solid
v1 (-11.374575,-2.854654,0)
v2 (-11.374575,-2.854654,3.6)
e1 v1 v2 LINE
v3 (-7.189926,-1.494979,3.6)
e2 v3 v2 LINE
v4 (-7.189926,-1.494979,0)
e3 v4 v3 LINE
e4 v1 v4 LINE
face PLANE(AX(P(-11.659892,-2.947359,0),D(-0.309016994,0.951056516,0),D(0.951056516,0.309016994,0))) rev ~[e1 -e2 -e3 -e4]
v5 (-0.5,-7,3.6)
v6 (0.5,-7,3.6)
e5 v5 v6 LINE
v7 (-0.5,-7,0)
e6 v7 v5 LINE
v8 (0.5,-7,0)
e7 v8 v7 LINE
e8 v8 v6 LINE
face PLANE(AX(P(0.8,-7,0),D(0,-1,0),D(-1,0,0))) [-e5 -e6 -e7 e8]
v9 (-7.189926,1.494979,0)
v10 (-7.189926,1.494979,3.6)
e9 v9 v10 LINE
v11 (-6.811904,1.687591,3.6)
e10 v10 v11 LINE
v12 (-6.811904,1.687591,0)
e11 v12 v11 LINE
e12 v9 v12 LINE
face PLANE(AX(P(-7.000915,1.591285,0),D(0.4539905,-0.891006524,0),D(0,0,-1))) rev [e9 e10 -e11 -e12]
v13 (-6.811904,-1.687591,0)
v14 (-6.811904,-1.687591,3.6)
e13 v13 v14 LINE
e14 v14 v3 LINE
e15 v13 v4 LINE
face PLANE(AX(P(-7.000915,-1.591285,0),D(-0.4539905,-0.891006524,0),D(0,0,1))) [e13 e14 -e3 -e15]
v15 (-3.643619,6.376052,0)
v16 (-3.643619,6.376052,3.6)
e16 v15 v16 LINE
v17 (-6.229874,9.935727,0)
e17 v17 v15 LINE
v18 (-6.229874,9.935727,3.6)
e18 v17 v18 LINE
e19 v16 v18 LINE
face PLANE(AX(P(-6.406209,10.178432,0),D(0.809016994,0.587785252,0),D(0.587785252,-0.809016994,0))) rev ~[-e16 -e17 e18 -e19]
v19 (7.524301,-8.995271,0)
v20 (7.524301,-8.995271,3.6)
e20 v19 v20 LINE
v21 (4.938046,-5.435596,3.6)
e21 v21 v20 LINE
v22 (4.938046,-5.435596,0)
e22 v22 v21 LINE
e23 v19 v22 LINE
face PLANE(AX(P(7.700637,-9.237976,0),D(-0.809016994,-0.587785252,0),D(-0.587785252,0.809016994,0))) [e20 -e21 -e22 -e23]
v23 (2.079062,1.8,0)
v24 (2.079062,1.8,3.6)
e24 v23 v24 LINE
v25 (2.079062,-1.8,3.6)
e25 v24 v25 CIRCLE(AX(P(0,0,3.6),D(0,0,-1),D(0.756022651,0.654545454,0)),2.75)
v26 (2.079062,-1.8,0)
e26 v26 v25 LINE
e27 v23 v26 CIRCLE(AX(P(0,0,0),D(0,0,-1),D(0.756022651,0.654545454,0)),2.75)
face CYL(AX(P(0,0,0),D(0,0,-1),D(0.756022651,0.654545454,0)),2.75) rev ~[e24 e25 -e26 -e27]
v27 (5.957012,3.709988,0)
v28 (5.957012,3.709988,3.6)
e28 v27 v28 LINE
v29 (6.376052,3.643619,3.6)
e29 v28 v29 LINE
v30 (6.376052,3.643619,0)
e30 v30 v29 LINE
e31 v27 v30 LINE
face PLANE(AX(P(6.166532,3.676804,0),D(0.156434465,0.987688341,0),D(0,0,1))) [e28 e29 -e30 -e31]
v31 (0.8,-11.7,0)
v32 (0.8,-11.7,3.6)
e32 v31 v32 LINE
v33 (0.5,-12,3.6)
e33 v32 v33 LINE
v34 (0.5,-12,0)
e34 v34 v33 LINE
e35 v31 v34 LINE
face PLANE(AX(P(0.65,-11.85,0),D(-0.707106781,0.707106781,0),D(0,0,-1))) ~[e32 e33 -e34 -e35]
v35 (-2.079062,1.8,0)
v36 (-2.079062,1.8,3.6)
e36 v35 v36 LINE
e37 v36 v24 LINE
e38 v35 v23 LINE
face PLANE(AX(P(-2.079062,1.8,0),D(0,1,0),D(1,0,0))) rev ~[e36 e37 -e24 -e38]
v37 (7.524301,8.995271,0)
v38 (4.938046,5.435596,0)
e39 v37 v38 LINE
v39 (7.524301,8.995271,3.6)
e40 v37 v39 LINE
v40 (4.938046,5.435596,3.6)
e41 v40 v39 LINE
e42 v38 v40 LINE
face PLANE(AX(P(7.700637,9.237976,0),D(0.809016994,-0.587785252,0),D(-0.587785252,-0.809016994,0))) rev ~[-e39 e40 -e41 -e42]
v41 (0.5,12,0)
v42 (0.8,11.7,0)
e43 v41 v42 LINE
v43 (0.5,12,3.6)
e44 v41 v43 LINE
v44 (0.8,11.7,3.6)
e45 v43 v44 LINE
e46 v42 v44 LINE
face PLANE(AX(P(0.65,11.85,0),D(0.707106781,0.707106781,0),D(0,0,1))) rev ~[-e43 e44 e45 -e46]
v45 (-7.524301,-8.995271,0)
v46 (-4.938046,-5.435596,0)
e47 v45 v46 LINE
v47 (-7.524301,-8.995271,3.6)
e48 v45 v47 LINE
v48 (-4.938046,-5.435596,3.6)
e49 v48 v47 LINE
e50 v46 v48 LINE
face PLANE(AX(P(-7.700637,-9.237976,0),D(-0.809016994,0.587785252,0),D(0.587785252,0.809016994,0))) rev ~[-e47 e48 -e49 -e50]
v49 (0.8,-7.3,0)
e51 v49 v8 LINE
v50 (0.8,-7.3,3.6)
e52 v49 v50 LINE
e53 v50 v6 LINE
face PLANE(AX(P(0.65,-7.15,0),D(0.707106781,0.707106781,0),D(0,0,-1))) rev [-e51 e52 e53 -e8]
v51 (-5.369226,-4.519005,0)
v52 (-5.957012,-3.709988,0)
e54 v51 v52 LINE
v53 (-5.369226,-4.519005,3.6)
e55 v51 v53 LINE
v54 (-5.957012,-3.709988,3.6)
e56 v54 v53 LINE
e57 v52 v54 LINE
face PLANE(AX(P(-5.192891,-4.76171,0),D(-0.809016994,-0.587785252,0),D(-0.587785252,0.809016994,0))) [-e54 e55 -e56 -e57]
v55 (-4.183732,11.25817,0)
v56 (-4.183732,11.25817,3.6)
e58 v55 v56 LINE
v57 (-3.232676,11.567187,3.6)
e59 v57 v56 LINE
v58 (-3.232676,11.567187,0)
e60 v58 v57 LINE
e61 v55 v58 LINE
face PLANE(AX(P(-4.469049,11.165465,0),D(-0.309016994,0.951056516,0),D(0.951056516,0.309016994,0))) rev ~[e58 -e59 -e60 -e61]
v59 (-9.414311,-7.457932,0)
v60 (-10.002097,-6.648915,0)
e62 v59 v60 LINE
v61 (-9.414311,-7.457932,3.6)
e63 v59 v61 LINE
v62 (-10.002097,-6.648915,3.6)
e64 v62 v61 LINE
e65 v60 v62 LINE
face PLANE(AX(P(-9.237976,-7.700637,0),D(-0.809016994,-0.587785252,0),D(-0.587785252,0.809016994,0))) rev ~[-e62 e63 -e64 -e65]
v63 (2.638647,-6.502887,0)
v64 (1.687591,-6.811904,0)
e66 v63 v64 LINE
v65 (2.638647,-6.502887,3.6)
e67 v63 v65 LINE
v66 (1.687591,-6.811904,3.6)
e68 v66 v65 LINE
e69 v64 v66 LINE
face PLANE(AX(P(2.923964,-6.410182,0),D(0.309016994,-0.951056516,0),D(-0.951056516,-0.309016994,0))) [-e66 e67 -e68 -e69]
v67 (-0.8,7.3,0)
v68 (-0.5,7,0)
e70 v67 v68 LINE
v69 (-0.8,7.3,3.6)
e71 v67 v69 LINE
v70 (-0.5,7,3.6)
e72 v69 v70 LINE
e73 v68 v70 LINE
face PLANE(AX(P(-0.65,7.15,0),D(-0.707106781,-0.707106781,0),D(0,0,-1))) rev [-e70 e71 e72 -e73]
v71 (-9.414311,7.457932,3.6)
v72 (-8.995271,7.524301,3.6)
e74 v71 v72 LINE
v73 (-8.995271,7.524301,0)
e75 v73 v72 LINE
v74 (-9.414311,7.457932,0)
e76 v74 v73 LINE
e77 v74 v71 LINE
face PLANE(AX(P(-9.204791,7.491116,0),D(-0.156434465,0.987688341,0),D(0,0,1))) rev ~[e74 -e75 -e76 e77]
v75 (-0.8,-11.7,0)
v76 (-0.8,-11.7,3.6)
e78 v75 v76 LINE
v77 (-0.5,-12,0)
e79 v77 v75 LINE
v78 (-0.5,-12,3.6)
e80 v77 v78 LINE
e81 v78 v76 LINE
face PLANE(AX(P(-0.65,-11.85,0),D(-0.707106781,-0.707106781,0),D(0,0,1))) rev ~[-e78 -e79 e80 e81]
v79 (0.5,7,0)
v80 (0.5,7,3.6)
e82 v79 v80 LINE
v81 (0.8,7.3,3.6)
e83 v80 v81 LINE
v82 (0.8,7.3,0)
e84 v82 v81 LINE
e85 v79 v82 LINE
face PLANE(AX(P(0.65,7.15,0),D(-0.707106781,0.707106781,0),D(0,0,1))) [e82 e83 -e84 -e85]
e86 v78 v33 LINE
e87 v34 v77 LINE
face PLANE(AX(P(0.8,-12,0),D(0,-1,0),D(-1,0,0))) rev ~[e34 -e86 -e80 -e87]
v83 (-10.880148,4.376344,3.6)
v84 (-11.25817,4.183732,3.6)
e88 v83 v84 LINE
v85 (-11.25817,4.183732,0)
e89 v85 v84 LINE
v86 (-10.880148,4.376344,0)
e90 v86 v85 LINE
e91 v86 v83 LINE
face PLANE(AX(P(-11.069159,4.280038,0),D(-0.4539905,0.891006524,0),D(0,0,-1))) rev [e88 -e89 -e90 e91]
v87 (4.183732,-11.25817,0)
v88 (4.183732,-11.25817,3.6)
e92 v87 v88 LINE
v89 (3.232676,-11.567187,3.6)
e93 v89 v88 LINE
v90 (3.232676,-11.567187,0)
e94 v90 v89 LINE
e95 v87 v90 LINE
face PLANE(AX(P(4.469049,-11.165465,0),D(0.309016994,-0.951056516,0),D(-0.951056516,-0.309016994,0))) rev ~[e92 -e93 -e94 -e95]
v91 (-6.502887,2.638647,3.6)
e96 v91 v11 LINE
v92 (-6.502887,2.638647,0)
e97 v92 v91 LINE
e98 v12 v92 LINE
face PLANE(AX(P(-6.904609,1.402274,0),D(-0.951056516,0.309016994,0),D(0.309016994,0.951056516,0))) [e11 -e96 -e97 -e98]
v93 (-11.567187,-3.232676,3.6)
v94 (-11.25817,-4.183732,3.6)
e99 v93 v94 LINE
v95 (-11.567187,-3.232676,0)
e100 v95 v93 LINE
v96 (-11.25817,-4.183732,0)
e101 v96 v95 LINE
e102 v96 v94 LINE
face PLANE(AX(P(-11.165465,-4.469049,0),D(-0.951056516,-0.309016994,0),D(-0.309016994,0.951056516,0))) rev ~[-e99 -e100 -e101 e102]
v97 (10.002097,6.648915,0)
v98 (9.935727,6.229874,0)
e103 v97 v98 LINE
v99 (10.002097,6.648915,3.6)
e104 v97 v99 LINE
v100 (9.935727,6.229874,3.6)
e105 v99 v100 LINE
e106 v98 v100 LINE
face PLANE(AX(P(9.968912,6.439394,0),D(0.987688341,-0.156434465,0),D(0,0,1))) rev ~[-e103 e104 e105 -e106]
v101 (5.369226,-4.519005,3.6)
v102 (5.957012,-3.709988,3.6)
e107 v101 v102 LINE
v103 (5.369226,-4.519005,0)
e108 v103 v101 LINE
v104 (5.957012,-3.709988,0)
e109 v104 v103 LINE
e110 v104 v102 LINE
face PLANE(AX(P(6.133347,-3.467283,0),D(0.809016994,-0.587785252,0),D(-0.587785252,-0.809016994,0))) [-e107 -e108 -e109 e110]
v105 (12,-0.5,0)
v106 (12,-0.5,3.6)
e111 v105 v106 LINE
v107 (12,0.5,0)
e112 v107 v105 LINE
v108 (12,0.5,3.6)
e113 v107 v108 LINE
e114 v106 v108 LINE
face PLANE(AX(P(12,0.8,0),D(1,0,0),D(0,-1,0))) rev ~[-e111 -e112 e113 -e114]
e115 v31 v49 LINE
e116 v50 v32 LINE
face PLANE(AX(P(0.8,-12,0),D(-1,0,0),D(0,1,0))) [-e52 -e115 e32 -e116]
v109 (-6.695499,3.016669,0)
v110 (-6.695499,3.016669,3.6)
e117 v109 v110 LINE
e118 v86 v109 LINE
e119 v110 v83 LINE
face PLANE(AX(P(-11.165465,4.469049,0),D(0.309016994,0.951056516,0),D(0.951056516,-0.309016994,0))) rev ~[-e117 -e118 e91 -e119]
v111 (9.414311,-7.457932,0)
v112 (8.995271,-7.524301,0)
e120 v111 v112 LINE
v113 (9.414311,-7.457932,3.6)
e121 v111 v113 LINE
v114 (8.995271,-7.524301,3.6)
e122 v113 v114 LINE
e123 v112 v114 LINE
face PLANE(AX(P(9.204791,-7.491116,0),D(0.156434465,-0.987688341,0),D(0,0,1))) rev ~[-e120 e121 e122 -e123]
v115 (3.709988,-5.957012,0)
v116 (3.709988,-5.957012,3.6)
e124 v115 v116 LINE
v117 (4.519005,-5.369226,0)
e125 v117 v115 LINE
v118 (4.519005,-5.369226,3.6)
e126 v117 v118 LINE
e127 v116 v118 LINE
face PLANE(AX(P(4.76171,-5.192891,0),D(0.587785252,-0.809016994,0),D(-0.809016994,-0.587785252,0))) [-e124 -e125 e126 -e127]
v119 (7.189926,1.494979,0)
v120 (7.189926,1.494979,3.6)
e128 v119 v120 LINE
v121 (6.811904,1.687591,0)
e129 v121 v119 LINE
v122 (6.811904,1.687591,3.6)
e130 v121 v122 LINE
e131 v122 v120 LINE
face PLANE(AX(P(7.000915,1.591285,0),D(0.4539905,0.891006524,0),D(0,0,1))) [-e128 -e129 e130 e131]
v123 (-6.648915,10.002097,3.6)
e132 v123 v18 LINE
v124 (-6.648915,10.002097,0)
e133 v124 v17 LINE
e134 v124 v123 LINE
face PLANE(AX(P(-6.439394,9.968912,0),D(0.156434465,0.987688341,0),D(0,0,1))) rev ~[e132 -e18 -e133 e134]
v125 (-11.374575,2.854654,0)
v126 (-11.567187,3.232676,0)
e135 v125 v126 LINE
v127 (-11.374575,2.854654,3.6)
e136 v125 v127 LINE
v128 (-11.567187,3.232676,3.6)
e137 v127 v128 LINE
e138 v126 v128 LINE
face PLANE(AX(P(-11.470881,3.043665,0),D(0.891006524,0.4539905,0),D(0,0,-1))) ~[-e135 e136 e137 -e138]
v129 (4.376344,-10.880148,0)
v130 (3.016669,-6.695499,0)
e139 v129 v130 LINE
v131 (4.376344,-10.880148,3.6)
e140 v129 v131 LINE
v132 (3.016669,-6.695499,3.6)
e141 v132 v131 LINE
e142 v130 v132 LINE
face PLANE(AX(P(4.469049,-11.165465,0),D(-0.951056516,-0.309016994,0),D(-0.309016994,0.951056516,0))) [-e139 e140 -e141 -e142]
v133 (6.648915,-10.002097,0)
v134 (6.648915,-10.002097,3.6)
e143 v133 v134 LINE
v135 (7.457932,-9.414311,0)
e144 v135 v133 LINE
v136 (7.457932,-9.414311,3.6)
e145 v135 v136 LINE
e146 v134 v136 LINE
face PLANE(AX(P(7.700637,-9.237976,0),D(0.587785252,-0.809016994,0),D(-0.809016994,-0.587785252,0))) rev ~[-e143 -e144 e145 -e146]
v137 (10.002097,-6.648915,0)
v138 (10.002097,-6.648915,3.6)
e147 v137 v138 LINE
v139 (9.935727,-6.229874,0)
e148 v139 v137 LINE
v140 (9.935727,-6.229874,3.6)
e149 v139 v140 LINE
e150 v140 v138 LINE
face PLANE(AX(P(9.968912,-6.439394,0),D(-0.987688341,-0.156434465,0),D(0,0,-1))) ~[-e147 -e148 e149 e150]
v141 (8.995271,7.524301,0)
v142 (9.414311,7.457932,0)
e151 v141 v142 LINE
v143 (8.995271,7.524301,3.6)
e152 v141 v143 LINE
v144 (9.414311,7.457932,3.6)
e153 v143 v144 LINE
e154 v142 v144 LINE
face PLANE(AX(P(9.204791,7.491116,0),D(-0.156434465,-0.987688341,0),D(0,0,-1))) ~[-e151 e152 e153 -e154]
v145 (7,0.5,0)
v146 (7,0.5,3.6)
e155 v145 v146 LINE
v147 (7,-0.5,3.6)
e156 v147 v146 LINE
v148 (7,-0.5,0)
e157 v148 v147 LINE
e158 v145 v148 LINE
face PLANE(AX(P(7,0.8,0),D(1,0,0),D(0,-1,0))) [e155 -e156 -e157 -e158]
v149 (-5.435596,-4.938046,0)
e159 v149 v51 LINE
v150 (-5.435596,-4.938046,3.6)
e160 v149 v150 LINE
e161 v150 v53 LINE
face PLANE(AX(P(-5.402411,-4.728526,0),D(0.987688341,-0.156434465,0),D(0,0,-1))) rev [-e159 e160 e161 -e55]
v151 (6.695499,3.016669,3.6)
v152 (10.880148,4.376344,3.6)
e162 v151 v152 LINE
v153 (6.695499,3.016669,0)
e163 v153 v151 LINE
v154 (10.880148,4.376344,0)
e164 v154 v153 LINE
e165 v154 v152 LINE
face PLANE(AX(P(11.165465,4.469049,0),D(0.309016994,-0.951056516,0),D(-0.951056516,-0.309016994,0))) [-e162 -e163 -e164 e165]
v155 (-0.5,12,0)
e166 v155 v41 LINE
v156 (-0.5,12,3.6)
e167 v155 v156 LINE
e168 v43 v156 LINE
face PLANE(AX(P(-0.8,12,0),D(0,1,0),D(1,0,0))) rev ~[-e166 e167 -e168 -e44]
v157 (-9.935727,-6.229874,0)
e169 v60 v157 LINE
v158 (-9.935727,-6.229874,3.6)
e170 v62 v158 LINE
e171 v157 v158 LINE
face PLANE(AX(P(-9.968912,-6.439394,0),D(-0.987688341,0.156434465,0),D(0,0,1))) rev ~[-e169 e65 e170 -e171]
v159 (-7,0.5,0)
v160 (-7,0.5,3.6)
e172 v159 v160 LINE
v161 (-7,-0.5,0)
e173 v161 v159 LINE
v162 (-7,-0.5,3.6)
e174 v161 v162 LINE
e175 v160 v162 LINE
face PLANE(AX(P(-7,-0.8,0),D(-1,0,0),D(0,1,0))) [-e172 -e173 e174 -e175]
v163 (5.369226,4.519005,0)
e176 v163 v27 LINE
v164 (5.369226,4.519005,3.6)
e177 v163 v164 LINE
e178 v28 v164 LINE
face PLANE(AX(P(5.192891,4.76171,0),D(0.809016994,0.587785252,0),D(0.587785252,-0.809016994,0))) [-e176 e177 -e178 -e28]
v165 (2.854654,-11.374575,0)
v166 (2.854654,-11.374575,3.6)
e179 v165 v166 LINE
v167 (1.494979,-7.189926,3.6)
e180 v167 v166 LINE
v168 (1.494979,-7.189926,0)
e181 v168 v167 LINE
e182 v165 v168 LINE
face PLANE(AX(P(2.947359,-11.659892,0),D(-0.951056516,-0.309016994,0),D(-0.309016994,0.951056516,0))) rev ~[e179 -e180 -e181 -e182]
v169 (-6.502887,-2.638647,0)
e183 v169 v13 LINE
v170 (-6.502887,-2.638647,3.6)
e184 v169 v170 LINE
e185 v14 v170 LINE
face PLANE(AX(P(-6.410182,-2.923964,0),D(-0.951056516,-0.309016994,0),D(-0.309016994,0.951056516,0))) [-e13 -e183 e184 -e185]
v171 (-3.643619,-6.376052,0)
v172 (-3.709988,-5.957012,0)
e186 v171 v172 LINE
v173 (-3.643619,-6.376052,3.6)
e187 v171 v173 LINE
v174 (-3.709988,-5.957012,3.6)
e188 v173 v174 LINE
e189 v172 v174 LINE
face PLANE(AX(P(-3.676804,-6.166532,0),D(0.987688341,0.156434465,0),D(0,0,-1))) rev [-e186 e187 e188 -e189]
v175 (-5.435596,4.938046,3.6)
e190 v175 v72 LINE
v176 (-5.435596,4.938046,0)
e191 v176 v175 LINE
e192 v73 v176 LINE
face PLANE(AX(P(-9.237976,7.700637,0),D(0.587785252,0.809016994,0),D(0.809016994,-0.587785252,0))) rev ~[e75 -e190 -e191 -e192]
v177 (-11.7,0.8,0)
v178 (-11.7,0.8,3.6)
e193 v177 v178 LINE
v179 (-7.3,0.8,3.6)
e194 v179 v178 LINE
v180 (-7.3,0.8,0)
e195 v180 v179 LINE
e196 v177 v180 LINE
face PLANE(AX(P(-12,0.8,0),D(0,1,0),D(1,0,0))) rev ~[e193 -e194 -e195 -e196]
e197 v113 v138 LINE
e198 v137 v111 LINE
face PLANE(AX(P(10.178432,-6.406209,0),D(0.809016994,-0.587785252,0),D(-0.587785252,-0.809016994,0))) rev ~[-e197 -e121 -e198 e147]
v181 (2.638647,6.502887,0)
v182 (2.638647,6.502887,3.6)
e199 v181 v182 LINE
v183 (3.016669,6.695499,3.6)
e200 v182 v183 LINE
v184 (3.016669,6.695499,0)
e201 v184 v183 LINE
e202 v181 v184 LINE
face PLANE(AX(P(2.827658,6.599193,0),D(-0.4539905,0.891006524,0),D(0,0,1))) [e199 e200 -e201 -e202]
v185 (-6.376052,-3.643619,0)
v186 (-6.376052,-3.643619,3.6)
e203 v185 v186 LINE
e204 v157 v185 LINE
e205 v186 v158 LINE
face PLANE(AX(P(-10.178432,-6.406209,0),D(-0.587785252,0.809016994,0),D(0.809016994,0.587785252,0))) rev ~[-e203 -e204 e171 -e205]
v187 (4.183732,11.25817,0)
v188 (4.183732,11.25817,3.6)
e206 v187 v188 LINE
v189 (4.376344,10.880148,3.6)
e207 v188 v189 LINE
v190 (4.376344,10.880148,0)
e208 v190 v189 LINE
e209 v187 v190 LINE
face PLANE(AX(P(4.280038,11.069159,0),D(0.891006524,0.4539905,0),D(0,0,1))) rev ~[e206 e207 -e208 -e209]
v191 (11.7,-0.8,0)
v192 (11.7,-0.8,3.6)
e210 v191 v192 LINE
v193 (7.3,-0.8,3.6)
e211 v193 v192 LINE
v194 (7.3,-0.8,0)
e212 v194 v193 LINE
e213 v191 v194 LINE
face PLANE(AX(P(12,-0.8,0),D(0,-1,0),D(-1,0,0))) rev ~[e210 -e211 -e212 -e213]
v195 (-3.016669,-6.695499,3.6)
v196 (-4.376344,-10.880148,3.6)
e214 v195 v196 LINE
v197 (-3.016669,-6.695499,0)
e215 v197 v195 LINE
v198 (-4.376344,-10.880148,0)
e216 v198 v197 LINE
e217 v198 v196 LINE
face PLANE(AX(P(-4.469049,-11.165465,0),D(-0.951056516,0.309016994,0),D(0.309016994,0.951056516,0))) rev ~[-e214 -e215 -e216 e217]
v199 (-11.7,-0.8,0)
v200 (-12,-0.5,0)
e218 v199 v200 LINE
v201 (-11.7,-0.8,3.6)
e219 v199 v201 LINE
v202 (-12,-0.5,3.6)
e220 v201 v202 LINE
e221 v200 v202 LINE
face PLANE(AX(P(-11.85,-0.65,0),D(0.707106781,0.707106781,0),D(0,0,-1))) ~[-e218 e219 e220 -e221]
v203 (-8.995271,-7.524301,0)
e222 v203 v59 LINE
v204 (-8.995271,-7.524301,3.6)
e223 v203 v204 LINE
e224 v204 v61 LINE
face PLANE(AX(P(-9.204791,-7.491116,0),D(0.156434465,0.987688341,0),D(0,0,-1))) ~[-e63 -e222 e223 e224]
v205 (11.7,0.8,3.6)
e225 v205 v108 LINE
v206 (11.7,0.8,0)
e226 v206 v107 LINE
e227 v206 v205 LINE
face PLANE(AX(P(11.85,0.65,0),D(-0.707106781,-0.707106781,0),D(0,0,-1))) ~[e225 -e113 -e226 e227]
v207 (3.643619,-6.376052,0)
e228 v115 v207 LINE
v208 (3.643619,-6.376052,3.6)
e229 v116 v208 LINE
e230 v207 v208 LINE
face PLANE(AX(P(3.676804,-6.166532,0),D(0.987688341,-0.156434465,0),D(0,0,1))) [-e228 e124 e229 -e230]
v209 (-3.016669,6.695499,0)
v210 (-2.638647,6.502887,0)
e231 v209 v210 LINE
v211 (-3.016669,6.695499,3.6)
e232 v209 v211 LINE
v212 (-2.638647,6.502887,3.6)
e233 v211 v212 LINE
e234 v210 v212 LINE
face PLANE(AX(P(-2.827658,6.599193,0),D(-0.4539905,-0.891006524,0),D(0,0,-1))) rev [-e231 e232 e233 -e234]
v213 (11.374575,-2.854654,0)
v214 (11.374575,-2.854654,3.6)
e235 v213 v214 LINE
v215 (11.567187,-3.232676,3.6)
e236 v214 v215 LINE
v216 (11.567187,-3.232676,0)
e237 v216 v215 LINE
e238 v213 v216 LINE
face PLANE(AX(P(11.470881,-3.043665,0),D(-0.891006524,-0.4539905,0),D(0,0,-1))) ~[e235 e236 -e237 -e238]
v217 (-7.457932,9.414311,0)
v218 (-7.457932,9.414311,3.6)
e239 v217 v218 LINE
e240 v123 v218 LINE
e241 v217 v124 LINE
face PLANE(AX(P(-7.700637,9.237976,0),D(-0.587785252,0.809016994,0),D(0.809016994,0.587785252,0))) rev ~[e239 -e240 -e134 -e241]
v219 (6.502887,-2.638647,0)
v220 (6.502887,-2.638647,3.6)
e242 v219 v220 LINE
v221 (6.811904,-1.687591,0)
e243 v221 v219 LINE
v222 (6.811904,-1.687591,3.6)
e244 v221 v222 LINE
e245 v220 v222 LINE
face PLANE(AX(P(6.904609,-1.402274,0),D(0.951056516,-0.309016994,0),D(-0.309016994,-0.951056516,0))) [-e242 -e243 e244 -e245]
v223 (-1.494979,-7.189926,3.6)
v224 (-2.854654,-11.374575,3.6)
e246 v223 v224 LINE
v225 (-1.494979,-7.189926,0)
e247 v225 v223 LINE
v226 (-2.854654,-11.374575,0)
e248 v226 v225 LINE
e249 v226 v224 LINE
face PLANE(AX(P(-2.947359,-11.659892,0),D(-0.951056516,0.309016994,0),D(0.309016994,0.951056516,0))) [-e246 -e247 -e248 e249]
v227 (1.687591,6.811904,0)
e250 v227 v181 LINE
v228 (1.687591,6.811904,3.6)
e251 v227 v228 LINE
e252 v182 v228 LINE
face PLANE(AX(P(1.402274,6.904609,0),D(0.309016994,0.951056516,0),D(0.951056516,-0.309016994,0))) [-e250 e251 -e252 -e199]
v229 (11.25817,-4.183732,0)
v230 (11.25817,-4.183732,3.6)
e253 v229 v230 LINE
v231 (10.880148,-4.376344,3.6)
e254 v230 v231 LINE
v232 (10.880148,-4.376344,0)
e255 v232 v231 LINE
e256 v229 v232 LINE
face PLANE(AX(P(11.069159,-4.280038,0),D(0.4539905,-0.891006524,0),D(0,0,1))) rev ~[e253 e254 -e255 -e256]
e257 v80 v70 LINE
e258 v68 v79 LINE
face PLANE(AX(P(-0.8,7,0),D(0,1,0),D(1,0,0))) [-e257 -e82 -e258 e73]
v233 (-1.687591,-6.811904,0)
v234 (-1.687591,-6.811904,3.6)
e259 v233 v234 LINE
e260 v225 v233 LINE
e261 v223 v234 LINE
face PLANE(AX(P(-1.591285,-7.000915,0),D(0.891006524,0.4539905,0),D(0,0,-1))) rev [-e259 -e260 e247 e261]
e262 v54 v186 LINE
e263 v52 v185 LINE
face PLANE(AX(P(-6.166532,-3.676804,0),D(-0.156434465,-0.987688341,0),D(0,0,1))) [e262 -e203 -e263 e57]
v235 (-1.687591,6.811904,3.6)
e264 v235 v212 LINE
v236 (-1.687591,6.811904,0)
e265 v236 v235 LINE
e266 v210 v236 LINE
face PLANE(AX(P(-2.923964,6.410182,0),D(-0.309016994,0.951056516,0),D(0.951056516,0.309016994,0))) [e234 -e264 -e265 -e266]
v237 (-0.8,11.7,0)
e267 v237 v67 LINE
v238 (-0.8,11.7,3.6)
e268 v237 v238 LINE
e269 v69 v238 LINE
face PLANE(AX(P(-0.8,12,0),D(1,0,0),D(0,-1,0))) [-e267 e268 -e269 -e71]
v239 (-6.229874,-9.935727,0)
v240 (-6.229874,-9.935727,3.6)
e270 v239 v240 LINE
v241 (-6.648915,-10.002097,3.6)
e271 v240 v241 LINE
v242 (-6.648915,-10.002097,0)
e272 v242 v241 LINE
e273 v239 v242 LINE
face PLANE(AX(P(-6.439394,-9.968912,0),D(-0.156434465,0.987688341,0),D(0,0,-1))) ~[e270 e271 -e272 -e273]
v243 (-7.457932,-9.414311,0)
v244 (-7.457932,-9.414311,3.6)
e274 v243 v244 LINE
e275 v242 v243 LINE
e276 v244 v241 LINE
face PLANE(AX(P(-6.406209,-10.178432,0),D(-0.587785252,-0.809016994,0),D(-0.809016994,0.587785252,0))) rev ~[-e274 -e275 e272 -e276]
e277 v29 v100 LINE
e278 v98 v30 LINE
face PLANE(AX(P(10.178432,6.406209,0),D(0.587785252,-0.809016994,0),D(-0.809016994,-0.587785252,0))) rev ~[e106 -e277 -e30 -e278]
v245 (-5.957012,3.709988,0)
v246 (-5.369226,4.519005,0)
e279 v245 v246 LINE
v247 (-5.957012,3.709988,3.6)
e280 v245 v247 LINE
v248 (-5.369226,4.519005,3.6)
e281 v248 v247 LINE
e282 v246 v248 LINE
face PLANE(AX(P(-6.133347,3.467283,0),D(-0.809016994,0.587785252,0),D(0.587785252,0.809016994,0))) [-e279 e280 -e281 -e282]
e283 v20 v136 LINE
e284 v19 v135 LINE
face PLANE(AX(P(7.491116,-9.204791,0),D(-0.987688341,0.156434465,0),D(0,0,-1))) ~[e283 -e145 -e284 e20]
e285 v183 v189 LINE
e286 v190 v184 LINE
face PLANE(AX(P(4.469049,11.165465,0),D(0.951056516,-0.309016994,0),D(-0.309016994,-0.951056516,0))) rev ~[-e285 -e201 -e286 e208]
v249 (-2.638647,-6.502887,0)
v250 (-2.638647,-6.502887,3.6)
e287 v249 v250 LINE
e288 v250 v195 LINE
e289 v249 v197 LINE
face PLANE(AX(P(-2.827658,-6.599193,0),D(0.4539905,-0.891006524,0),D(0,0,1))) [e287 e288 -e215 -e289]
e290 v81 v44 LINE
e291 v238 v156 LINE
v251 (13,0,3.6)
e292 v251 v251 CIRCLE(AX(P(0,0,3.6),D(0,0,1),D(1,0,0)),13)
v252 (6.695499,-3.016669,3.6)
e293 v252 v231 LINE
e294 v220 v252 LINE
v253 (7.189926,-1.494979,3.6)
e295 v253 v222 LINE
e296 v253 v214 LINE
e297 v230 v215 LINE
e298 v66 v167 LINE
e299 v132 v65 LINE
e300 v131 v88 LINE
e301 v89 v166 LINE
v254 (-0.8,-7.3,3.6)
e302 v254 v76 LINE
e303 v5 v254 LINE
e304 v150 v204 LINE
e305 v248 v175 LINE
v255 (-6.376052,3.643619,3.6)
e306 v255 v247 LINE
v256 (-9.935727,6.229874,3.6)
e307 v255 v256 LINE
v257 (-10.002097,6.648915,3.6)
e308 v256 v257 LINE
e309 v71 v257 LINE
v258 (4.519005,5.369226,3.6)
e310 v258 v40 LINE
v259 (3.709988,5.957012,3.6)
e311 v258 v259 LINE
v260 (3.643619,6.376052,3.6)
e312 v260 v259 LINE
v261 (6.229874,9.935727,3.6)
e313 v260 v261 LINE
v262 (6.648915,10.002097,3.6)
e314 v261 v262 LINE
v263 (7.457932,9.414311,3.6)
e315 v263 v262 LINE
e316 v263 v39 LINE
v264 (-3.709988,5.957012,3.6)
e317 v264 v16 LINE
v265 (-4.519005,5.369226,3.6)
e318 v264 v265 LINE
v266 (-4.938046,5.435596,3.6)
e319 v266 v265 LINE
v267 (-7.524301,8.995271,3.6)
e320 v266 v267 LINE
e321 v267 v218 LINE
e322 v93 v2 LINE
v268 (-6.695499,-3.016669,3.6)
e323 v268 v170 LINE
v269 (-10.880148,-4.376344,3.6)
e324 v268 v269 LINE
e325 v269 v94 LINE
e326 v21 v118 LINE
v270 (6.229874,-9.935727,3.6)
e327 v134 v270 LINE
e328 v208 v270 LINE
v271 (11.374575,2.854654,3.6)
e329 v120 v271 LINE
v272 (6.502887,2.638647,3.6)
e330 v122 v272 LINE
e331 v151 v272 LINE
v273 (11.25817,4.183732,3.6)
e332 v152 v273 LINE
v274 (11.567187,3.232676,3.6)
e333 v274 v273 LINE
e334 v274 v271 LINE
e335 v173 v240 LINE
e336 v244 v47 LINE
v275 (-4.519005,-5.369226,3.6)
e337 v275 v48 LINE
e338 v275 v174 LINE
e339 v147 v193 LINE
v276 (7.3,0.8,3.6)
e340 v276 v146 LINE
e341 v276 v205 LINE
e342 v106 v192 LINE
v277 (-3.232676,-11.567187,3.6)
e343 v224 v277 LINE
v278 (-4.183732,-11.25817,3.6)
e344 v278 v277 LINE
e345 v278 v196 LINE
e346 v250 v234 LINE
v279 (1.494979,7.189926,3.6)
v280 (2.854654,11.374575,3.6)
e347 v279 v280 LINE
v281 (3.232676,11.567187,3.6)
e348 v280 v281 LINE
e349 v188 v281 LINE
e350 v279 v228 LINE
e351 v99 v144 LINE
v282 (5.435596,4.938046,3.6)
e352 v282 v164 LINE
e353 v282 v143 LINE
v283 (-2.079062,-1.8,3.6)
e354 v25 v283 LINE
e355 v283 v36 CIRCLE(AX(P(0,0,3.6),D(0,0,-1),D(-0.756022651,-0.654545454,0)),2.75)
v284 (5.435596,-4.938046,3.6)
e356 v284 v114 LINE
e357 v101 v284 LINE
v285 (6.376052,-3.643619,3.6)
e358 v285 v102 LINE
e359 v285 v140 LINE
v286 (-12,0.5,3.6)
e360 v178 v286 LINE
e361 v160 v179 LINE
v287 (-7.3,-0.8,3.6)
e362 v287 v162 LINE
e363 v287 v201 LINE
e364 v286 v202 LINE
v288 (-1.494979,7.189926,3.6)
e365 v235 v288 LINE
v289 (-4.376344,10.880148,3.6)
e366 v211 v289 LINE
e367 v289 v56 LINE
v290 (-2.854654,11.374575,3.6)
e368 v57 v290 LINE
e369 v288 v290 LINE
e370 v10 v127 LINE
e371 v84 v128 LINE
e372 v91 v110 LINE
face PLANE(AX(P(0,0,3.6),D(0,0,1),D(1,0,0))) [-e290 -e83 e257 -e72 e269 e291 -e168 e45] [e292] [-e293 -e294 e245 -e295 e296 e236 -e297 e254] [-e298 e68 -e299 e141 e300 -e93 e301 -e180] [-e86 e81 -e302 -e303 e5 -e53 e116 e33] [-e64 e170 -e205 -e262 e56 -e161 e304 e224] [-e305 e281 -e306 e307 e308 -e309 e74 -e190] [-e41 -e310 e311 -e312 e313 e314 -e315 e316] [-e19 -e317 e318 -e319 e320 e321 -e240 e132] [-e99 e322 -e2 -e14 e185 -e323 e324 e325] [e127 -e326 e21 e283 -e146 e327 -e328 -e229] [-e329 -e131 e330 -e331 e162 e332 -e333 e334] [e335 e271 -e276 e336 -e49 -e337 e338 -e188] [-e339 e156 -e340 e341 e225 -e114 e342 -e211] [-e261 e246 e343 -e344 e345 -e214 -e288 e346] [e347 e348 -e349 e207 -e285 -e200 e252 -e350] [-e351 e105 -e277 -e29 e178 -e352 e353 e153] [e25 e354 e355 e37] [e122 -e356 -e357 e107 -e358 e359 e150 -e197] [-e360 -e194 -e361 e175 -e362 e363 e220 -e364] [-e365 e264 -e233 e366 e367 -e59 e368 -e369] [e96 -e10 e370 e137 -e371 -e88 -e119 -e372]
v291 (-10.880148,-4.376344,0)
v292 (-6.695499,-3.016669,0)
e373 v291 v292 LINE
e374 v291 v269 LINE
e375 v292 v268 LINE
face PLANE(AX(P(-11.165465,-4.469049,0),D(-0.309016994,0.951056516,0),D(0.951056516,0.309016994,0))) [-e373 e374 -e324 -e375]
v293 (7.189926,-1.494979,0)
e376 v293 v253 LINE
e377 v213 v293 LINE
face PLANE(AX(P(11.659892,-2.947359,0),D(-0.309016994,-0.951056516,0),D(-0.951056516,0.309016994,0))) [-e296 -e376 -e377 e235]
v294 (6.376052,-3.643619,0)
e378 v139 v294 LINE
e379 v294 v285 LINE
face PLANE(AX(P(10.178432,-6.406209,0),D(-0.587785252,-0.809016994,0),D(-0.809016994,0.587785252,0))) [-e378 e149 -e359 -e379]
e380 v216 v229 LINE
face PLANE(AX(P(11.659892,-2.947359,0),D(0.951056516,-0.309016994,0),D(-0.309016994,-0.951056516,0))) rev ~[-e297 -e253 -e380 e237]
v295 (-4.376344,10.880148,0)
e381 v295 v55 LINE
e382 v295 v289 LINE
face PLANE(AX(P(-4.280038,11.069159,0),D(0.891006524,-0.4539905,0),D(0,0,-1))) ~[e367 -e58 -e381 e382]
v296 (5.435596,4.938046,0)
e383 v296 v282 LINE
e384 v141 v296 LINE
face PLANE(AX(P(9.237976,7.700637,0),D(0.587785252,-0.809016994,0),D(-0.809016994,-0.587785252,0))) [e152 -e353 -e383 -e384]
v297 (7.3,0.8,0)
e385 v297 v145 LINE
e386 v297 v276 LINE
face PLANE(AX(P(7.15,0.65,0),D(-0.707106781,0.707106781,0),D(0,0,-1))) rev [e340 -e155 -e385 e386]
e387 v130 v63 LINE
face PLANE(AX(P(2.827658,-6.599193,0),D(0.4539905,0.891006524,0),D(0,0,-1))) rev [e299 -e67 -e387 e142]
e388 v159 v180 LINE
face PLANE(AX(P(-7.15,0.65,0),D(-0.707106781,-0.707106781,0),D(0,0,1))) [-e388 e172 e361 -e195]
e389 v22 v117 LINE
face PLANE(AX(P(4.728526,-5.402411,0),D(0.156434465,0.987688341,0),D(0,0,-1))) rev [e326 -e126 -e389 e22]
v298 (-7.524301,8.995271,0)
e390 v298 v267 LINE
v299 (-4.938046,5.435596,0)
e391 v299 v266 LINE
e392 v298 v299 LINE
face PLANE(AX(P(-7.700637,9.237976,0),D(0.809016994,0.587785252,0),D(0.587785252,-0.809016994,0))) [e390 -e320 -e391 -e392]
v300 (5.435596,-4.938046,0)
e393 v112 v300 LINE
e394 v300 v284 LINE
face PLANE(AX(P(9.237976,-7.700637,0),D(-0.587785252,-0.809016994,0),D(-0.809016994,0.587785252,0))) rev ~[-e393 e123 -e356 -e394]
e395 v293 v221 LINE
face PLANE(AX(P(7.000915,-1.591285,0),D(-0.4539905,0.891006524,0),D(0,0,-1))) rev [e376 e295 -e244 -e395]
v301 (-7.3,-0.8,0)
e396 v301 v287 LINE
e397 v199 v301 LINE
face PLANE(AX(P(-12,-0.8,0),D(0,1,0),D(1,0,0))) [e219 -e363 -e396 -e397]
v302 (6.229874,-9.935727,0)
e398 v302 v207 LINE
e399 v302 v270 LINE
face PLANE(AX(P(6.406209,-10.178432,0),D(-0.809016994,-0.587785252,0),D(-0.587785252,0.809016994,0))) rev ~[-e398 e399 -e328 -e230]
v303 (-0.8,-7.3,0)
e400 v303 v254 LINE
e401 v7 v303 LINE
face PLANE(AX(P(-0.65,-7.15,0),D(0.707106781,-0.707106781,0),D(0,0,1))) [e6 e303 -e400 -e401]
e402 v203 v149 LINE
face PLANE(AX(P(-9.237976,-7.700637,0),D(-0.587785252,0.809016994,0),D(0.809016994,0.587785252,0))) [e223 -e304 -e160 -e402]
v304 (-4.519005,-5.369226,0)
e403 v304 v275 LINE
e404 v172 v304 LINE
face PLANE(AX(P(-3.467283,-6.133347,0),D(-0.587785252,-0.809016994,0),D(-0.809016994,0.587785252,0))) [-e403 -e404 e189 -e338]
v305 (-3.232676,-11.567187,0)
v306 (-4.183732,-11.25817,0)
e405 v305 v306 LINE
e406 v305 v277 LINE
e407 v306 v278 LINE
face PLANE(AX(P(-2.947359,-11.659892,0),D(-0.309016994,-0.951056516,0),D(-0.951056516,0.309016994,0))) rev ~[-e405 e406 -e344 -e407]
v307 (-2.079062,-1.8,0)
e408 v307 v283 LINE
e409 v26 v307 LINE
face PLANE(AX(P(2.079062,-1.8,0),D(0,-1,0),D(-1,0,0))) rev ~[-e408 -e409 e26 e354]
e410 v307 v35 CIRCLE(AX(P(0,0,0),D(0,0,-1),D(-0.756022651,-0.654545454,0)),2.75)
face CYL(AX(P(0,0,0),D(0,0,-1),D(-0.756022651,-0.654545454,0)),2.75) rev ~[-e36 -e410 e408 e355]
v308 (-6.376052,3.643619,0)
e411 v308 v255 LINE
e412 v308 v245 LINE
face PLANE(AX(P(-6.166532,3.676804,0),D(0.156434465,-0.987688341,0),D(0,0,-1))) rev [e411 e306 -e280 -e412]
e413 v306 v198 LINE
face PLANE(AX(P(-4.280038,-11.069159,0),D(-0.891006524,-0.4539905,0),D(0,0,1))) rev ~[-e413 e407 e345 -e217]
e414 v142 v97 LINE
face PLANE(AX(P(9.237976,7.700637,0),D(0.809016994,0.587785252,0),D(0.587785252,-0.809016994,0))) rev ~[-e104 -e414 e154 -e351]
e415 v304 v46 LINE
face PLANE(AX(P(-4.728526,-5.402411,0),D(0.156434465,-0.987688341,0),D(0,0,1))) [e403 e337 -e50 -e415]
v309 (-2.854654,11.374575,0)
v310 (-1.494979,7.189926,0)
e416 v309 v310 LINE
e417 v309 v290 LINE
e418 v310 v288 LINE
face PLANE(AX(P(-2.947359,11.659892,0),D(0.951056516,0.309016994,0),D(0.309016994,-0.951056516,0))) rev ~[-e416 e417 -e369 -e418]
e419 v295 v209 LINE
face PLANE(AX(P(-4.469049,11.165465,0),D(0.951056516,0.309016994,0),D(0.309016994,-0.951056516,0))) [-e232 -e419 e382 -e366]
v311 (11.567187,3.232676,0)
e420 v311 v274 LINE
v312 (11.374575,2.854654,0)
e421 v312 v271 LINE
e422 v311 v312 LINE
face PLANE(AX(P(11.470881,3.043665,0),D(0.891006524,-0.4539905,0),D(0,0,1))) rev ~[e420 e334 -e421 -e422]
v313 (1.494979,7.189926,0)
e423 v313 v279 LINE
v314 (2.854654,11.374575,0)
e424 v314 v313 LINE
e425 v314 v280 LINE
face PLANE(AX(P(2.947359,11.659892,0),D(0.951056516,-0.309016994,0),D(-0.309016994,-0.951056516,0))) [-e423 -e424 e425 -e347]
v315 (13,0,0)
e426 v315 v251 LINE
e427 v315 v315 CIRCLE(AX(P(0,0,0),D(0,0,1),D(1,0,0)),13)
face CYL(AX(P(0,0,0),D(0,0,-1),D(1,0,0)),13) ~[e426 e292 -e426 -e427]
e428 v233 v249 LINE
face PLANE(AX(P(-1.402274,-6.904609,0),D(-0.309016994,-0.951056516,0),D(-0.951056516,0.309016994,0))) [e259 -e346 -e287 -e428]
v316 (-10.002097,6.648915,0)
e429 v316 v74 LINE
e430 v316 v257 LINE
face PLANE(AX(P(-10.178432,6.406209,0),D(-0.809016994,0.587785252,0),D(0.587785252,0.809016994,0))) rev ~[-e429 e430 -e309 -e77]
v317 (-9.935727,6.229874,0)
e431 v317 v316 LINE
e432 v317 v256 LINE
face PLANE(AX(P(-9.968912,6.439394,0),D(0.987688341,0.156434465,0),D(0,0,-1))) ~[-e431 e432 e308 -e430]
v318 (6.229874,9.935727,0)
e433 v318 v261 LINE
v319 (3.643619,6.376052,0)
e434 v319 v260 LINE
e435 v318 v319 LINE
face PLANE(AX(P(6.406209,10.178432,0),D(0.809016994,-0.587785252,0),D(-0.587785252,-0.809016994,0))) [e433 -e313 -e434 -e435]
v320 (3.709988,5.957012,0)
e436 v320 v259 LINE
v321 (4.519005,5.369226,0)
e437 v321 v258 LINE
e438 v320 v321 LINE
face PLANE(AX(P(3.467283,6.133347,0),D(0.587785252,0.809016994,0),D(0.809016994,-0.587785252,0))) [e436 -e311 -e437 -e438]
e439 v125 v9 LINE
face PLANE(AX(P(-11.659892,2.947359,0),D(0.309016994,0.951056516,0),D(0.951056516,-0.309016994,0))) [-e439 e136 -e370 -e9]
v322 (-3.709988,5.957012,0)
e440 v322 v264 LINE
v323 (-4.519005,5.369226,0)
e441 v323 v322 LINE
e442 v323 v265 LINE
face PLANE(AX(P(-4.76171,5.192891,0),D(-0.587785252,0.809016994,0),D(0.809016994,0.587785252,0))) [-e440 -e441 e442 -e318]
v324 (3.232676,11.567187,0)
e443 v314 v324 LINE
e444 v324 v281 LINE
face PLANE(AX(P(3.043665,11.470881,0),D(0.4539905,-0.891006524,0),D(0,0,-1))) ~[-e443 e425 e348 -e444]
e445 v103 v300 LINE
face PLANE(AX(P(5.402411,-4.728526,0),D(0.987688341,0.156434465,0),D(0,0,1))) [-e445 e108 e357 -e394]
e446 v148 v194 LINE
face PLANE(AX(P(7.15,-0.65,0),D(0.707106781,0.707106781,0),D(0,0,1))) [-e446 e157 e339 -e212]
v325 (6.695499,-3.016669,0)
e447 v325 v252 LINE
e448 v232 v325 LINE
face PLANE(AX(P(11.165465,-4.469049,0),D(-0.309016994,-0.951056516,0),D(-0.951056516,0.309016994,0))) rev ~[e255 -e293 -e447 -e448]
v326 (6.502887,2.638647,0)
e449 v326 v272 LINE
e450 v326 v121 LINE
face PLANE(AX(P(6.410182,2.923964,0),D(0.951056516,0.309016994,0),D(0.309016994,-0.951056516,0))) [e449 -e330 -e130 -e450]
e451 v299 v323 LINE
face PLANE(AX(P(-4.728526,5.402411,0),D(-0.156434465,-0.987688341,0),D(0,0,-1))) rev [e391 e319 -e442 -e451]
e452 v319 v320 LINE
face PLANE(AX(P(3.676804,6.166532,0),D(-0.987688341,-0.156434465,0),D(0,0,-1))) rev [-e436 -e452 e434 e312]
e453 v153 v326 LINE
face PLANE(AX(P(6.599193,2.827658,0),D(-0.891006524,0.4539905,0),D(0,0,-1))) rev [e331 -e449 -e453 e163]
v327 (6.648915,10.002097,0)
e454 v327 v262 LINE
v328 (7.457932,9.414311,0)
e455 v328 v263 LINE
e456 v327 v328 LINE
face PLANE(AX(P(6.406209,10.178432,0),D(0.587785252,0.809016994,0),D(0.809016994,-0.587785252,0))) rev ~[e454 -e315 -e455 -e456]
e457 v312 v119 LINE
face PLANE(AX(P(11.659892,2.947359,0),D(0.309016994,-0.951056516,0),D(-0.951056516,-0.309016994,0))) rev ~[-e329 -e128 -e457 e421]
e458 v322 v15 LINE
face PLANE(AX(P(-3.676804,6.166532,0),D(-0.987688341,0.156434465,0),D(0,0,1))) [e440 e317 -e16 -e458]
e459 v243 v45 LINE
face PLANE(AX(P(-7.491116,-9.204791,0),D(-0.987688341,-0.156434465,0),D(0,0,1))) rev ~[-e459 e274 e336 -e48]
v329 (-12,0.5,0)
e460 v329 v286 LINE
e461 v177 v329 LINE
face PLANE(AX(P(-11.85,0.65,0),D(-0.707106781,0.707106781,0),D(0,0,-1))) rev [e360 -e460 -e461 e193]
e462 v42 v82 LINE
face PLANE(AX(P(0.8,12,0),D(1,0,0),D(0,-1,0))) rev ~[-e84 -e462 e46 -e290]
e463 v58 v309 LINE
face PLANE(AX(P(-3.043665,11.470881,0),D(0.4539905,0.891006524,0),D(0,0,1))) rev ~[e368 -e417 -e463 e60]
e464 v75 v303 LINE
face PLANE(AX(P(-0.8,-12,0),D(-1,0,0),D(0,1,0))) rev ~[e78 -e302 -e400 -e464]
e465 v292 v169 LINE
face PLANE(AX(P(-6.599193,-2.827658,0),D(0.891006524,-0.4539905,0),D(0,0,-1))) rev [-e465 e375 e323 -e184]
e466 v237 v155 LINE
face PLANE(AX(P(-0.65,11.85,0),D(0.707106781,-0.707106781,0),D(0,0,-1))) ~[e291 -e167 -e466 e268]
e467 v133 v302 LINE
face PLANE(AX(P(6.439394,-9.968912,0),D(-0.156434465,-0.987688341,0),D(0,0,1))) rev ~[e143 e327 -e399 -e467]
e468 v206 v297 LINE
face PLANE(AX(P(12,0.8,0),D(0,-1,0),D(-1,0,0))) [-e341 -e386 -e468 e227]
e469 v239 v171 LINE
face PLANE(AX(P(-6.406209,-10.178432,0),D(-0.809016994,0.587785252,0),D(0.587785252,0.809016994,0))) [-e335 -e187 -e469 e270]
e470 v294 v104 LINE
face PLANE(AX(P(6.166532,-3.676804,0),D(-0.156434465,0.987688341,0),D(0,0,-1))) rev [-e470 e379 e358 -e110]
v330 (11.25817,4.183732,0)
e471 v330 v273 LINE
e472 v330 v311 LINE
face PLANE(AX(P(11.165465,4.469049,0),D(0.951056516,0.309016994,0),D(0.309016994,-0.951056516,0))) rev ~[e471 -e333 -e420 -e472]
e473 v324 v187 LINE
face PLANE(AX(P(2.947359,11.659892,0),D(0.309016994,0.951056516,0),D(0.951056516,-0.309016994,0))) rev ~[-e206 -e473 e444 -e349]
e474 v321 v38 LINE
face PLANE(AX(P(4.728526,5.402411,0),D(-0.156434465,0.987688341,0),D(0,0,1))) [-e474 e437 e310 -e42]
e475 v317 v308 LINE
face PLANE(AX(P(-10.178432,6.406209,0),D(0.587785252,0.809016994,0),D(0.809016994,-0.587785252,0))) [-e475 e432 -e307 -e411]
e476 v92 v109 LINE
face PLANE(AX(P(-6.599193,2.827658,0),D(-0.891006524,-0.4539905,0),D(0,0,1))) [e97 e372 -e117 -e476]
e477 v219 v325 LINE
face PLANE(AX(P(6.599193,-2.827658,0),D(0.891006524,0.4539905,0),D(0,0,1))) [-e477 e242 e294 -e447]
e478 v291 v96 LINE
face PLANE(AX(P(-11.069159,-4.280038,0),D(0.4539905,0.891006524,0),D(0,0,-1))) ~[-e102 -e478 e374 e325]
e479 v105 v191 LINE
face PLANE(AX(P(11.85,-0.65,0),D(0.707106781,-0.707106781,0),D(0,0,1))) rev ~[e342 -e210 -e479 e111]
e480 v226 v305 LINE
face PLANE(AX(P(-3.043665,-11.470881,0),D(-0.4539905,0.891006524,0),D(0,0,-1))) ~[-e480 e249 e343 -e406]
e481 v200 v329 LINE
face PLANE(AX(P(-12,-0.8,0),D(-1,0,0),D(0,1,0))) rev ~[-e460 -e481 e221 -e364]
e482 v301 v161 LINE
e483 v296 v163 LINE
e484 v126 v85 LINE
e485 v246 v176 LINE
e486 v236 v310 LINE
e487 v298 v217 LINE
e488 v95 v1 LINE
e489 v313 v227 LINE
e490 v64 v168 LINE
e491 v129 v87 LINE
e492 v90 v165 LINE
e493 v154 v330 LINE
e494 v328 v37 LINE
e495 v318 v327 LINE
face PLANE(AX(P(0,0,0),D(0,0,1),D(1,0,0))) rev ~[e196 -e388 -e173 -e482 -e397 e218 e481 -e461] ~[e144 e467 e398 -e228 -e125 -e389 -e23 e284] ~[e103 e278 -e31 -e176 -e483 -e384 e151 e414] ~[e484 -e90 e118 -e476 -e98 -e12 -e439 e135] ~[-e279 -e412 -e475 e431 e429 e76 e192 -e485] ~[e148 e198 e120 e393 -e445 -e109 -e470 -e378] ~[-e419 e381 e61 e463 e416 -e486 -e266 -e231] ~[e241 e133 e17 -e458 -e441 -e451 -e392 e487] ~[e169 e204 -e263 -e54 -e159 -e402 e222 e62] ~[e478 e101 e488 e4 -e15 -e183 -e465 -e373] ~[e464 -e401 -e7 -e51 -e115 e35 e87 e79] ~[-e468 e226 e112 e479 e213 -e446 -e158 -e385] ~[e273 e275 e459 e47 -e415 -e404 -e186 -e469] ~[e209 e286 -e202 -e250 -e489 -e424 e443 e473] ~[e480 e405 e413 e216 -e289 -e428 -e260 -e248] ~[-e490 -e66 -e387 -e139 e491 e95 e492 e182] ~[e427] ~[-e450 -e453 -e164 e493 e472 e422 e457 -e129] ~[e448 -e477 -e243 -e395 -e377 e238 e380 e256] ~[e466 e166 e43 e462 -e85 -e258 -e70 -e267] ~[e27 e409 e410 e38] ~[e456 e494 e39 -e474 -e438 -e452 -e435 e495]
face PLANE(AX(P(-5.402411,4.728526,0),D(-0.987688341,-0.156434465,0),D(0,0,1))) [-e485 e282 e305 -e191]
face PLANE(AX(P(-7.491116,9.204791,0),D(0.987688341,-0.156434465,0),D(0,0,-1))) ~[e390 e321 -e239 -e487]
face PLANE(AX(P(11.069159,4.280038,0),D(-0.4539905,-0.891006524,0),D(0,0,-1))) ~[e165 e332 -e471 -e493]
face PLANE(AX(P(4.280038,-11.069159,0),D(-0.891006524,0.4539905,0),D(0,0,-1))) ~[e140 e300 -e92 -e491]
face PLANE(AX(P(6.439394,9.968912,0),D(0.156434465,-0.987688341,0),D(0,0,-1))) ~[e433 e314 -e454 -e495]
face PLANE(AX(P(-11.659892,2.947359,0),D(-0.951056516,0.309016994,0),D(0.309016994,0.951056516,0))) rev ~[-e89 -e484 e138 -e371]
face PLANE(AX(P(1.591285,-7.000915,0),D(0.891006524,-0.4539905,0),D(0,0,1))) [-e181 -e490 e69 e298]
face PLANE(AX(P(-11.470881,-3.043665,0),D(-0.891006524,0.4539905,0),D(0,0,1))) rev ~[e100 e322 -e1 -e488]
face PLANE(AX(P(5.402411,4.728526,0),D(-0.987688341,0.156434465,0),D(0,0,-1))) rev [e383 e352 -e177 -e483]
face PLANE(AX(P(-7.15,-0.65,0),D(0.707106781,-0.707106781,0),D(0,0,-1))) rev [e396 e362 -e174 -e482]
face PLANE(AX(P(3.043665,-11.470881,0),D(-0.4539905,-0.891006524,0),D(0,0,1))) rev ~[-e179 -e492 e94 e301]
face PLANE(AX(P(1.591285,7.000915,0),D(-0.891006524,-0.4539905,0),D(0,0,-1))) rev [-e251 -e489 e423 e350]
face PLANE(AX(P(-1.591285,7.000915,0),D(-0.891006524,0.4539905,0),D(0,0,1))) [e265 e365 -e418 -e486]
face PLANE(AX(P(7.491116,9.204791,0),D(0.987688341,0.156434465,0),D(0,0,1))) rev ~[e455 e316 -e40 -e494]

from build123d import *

# Parameters (mm, degrees)
SKETCH_1_R                           = 13
EXTRUDE_1_DEPTH                      = 3.6
SKETCH_2_W                           = 5
SKETCH_2_H                           = 1.6
CUT_EXTRUDE_2_DEPTH                  = 19.733926444
CHAMFER_1_SIZE                       = 0.3
PATTERN_CIRCULAR_1_COUNT             = 20
CHAMFER_1_OF_PATTERN_CIRCULAR_1_SIZE = 0.3


with BuildPart() as part:
    # Эскиз1 → Бобышка-Вытянуть1 (new body)
    with BuildSketch(Plane.XY):
        Circle(SKETCH_1_R)
        with BuildLine():
            Line((-2.079062289, 1.8), (2.079062289, 1.8))
            ThreePointArc((2.079062289, 1.8), (2.75, 0), (2.079062289, -1.8))
            Line((2.079062289, -1.8), (-2.079062289, -1.8))
            ThreePointArc((-2.079062289, -1.8), (-2.75, 0), (-2.079062289, 1.8))
        make_face(mode=Mode.SUBTRACT)
    extrude(amount=EXTRUDE_1_DEPTH)

    # Эскиз2 → Вырез-Вытянуть2 (cut, through all)
    with BuildSketch(Plane.XY):
        with Locations((-9.5, 0)):
            Rectangle(SKETCH_2_W, SKETCH_2_H)
    cut_extrude_2 = extrude(amount=CUT_EXTRUDE_2_DEPTH, mode=Mode.SUBTRACT)

    # Фаска1
    chamfer_1_edges = [part.edges().sort_by_distance(p)[0] for p in [
        (-7, -0.8, 1.8),
        (-7, 0.8, 1.8),
        (-12, 0.8, 1.8),
        (-12, -0.8, 1.8),
    ]]
    chamfer(chamfer_1_edges, length=CHAMFER_1_SIZE)

    # Круговой массив1: Вырез-Вытянуть2 ×20 about axis
    pattern_circular_1_axis = Axis((0, 0, -80.9), (0, 0, 1))
    for i in range(1, PATTERN_CIRCULAR_1_COUNT):
        add(cut_extrude_2.rotate(pattern_circular_1_axis, i * 360 / PATTERN_CIRCULAR_1_COUNT), mode=Mode.SUBTRACT)

    # Фаска1 of Круговой массив1
    chamfer_1_of_pattern_circular_1_edges = [part.edges().sort_by_distance(p)[0] for p in [
        (-6.410182019, -2.923964174, 1.8),
        (-6.90460921, -1.402273748, 1.8),
        (-11.659891791, -2.947358719, 1.8),
        (-11.1654646, -4.469049146, 1.8),
        (-5.192890759, -4.761710362, 1.8),
        (-6.133347162, -3.467283171, 1.8),
        (-10.178432134, -6.406209432, 1.8),
        (-9.237975731, -7.700636623, 1.8),
        (-3.467283171, -6.133347162, 1.8),
        (-4.761710362, -5.192890759, 1.8),
        (-7.700636623, -9.237975731, 1.8),
        (-6.406209432, -10.178432134, 1.8),
        (-1.402273748, -6.90460921, 1.8),
        (-2.923964174, -6.410182019, 1.8),
        (-4.469049146, -11.1654646, 1.8),
        (-2.947358719, -11.659891791, 1.8),
        (0.8, -7, 1.8),
        (-0.8, -7, 1.8),
        (-0.8, -12, 1.8),
        (0.8, -12, 1.8),
        (2.923964174, -6.410182019, 1.8),
        (1.402273748, -6.90460921, 1.8),
        (2.947358719, -11.659891791, 1.8),
        (4.469049146, -11.1654646, 1.8),
        (4.761710362, -5.192890759, 1.8),
        (3.467283171, -6.133347162, 1.8),
        (6.406209432, -10.178432134, 1.8),
        (7.700636623, -9.237975731, 1.8),
        (6.133347162, -3.467283171, 1.8),
        (5.192890759, -4.761710362, 1.8),
        (9.237975731, -7.700636623, 1.8),
        (10.178432134, -6.406209432, 1.8),
        (6.90460921, -1.402273748, 1.8),
        (6.410182019, -2.923964174, 1.8),
        (11.1654646, -4.469049146, 1.8),
        (11.659891791, -2.947358719, 1.8),
        (7, 0.8, 1.8),
        (7, -0.8, 1.8),
        (12, -0.8, 1.8),
        (12, 0.8, 1.8),
        (6.410182019, 2.923964174, 1.8),
        (6.90460921, 1.402273748, 1.8),
        (11.659891791, 2.947358719, 1.8),
        (11.1654646, 4.469049146, 1.8),
        (5.192890759, 4.761710362, 1.8),
        (6.133347162, 3.467283171, 1.8),
        (10.178432134, 6.406209432, 1.8),
        (9.237975731, 7.700636623, 1.8),
        (3.467283171, 6.133347162, 1.8),
        (4.761710362, 5.192890759, 1.8),
        (7.700636623, 9.237975731, 1.8),
        (6.406209432, 10.178432134, 1.8),
        (1.402273748, 6.90460921, 1.8),
        (2.923964174, 6.410182019, 1.8),
        (4.469049146, 11.1654646, 1.8),
        (2.947358719, 11.659891791, 1.8),
        (-0.8, 7, 1.8),
        (0.8, 7, 1.8),
        (0.8, 12, 1.8),
        (-0.8, 12, 1.8),
        (-2.923964174, 6.410182019, 1.8),
        (-1.402273748, 6.90460921, 1.8),
        (-2.947358719, 11.659891791, 1.8),
        (-4.469049146, 11.1654646, 1.8),
        (-4.761710362, 5.192890759, 1.8),
        (-3.467283171, 6.133347162, 1.8),
        (-6.406209432, 10.178432134, 1.8),
        (-7.700636623, 9.237975731, 1.8),
        (-6.133347162, 3.467283171, 1.8),
        (-5.192890759, 4.761710362, 1.8),
        (-9.237975731, 7.700636623, 1.8),
        (-10.178432134, 6.406209432, 1.8),
        (-6.90460921, 1.402273748, 1.8),
        (-6.410182019, 2.923964174, 1.8),
        (-11.1654646, 4.469049146, 1.8),
        (-11.659891791, 2.947358719, 1.8),
    ]]
    chamfer(chamfer_1_of_pattern_circular_1_edges, length=CHAMFER_1_OF_PATTERN_CIRCULAR_1_SIZE)


solid = part.part
